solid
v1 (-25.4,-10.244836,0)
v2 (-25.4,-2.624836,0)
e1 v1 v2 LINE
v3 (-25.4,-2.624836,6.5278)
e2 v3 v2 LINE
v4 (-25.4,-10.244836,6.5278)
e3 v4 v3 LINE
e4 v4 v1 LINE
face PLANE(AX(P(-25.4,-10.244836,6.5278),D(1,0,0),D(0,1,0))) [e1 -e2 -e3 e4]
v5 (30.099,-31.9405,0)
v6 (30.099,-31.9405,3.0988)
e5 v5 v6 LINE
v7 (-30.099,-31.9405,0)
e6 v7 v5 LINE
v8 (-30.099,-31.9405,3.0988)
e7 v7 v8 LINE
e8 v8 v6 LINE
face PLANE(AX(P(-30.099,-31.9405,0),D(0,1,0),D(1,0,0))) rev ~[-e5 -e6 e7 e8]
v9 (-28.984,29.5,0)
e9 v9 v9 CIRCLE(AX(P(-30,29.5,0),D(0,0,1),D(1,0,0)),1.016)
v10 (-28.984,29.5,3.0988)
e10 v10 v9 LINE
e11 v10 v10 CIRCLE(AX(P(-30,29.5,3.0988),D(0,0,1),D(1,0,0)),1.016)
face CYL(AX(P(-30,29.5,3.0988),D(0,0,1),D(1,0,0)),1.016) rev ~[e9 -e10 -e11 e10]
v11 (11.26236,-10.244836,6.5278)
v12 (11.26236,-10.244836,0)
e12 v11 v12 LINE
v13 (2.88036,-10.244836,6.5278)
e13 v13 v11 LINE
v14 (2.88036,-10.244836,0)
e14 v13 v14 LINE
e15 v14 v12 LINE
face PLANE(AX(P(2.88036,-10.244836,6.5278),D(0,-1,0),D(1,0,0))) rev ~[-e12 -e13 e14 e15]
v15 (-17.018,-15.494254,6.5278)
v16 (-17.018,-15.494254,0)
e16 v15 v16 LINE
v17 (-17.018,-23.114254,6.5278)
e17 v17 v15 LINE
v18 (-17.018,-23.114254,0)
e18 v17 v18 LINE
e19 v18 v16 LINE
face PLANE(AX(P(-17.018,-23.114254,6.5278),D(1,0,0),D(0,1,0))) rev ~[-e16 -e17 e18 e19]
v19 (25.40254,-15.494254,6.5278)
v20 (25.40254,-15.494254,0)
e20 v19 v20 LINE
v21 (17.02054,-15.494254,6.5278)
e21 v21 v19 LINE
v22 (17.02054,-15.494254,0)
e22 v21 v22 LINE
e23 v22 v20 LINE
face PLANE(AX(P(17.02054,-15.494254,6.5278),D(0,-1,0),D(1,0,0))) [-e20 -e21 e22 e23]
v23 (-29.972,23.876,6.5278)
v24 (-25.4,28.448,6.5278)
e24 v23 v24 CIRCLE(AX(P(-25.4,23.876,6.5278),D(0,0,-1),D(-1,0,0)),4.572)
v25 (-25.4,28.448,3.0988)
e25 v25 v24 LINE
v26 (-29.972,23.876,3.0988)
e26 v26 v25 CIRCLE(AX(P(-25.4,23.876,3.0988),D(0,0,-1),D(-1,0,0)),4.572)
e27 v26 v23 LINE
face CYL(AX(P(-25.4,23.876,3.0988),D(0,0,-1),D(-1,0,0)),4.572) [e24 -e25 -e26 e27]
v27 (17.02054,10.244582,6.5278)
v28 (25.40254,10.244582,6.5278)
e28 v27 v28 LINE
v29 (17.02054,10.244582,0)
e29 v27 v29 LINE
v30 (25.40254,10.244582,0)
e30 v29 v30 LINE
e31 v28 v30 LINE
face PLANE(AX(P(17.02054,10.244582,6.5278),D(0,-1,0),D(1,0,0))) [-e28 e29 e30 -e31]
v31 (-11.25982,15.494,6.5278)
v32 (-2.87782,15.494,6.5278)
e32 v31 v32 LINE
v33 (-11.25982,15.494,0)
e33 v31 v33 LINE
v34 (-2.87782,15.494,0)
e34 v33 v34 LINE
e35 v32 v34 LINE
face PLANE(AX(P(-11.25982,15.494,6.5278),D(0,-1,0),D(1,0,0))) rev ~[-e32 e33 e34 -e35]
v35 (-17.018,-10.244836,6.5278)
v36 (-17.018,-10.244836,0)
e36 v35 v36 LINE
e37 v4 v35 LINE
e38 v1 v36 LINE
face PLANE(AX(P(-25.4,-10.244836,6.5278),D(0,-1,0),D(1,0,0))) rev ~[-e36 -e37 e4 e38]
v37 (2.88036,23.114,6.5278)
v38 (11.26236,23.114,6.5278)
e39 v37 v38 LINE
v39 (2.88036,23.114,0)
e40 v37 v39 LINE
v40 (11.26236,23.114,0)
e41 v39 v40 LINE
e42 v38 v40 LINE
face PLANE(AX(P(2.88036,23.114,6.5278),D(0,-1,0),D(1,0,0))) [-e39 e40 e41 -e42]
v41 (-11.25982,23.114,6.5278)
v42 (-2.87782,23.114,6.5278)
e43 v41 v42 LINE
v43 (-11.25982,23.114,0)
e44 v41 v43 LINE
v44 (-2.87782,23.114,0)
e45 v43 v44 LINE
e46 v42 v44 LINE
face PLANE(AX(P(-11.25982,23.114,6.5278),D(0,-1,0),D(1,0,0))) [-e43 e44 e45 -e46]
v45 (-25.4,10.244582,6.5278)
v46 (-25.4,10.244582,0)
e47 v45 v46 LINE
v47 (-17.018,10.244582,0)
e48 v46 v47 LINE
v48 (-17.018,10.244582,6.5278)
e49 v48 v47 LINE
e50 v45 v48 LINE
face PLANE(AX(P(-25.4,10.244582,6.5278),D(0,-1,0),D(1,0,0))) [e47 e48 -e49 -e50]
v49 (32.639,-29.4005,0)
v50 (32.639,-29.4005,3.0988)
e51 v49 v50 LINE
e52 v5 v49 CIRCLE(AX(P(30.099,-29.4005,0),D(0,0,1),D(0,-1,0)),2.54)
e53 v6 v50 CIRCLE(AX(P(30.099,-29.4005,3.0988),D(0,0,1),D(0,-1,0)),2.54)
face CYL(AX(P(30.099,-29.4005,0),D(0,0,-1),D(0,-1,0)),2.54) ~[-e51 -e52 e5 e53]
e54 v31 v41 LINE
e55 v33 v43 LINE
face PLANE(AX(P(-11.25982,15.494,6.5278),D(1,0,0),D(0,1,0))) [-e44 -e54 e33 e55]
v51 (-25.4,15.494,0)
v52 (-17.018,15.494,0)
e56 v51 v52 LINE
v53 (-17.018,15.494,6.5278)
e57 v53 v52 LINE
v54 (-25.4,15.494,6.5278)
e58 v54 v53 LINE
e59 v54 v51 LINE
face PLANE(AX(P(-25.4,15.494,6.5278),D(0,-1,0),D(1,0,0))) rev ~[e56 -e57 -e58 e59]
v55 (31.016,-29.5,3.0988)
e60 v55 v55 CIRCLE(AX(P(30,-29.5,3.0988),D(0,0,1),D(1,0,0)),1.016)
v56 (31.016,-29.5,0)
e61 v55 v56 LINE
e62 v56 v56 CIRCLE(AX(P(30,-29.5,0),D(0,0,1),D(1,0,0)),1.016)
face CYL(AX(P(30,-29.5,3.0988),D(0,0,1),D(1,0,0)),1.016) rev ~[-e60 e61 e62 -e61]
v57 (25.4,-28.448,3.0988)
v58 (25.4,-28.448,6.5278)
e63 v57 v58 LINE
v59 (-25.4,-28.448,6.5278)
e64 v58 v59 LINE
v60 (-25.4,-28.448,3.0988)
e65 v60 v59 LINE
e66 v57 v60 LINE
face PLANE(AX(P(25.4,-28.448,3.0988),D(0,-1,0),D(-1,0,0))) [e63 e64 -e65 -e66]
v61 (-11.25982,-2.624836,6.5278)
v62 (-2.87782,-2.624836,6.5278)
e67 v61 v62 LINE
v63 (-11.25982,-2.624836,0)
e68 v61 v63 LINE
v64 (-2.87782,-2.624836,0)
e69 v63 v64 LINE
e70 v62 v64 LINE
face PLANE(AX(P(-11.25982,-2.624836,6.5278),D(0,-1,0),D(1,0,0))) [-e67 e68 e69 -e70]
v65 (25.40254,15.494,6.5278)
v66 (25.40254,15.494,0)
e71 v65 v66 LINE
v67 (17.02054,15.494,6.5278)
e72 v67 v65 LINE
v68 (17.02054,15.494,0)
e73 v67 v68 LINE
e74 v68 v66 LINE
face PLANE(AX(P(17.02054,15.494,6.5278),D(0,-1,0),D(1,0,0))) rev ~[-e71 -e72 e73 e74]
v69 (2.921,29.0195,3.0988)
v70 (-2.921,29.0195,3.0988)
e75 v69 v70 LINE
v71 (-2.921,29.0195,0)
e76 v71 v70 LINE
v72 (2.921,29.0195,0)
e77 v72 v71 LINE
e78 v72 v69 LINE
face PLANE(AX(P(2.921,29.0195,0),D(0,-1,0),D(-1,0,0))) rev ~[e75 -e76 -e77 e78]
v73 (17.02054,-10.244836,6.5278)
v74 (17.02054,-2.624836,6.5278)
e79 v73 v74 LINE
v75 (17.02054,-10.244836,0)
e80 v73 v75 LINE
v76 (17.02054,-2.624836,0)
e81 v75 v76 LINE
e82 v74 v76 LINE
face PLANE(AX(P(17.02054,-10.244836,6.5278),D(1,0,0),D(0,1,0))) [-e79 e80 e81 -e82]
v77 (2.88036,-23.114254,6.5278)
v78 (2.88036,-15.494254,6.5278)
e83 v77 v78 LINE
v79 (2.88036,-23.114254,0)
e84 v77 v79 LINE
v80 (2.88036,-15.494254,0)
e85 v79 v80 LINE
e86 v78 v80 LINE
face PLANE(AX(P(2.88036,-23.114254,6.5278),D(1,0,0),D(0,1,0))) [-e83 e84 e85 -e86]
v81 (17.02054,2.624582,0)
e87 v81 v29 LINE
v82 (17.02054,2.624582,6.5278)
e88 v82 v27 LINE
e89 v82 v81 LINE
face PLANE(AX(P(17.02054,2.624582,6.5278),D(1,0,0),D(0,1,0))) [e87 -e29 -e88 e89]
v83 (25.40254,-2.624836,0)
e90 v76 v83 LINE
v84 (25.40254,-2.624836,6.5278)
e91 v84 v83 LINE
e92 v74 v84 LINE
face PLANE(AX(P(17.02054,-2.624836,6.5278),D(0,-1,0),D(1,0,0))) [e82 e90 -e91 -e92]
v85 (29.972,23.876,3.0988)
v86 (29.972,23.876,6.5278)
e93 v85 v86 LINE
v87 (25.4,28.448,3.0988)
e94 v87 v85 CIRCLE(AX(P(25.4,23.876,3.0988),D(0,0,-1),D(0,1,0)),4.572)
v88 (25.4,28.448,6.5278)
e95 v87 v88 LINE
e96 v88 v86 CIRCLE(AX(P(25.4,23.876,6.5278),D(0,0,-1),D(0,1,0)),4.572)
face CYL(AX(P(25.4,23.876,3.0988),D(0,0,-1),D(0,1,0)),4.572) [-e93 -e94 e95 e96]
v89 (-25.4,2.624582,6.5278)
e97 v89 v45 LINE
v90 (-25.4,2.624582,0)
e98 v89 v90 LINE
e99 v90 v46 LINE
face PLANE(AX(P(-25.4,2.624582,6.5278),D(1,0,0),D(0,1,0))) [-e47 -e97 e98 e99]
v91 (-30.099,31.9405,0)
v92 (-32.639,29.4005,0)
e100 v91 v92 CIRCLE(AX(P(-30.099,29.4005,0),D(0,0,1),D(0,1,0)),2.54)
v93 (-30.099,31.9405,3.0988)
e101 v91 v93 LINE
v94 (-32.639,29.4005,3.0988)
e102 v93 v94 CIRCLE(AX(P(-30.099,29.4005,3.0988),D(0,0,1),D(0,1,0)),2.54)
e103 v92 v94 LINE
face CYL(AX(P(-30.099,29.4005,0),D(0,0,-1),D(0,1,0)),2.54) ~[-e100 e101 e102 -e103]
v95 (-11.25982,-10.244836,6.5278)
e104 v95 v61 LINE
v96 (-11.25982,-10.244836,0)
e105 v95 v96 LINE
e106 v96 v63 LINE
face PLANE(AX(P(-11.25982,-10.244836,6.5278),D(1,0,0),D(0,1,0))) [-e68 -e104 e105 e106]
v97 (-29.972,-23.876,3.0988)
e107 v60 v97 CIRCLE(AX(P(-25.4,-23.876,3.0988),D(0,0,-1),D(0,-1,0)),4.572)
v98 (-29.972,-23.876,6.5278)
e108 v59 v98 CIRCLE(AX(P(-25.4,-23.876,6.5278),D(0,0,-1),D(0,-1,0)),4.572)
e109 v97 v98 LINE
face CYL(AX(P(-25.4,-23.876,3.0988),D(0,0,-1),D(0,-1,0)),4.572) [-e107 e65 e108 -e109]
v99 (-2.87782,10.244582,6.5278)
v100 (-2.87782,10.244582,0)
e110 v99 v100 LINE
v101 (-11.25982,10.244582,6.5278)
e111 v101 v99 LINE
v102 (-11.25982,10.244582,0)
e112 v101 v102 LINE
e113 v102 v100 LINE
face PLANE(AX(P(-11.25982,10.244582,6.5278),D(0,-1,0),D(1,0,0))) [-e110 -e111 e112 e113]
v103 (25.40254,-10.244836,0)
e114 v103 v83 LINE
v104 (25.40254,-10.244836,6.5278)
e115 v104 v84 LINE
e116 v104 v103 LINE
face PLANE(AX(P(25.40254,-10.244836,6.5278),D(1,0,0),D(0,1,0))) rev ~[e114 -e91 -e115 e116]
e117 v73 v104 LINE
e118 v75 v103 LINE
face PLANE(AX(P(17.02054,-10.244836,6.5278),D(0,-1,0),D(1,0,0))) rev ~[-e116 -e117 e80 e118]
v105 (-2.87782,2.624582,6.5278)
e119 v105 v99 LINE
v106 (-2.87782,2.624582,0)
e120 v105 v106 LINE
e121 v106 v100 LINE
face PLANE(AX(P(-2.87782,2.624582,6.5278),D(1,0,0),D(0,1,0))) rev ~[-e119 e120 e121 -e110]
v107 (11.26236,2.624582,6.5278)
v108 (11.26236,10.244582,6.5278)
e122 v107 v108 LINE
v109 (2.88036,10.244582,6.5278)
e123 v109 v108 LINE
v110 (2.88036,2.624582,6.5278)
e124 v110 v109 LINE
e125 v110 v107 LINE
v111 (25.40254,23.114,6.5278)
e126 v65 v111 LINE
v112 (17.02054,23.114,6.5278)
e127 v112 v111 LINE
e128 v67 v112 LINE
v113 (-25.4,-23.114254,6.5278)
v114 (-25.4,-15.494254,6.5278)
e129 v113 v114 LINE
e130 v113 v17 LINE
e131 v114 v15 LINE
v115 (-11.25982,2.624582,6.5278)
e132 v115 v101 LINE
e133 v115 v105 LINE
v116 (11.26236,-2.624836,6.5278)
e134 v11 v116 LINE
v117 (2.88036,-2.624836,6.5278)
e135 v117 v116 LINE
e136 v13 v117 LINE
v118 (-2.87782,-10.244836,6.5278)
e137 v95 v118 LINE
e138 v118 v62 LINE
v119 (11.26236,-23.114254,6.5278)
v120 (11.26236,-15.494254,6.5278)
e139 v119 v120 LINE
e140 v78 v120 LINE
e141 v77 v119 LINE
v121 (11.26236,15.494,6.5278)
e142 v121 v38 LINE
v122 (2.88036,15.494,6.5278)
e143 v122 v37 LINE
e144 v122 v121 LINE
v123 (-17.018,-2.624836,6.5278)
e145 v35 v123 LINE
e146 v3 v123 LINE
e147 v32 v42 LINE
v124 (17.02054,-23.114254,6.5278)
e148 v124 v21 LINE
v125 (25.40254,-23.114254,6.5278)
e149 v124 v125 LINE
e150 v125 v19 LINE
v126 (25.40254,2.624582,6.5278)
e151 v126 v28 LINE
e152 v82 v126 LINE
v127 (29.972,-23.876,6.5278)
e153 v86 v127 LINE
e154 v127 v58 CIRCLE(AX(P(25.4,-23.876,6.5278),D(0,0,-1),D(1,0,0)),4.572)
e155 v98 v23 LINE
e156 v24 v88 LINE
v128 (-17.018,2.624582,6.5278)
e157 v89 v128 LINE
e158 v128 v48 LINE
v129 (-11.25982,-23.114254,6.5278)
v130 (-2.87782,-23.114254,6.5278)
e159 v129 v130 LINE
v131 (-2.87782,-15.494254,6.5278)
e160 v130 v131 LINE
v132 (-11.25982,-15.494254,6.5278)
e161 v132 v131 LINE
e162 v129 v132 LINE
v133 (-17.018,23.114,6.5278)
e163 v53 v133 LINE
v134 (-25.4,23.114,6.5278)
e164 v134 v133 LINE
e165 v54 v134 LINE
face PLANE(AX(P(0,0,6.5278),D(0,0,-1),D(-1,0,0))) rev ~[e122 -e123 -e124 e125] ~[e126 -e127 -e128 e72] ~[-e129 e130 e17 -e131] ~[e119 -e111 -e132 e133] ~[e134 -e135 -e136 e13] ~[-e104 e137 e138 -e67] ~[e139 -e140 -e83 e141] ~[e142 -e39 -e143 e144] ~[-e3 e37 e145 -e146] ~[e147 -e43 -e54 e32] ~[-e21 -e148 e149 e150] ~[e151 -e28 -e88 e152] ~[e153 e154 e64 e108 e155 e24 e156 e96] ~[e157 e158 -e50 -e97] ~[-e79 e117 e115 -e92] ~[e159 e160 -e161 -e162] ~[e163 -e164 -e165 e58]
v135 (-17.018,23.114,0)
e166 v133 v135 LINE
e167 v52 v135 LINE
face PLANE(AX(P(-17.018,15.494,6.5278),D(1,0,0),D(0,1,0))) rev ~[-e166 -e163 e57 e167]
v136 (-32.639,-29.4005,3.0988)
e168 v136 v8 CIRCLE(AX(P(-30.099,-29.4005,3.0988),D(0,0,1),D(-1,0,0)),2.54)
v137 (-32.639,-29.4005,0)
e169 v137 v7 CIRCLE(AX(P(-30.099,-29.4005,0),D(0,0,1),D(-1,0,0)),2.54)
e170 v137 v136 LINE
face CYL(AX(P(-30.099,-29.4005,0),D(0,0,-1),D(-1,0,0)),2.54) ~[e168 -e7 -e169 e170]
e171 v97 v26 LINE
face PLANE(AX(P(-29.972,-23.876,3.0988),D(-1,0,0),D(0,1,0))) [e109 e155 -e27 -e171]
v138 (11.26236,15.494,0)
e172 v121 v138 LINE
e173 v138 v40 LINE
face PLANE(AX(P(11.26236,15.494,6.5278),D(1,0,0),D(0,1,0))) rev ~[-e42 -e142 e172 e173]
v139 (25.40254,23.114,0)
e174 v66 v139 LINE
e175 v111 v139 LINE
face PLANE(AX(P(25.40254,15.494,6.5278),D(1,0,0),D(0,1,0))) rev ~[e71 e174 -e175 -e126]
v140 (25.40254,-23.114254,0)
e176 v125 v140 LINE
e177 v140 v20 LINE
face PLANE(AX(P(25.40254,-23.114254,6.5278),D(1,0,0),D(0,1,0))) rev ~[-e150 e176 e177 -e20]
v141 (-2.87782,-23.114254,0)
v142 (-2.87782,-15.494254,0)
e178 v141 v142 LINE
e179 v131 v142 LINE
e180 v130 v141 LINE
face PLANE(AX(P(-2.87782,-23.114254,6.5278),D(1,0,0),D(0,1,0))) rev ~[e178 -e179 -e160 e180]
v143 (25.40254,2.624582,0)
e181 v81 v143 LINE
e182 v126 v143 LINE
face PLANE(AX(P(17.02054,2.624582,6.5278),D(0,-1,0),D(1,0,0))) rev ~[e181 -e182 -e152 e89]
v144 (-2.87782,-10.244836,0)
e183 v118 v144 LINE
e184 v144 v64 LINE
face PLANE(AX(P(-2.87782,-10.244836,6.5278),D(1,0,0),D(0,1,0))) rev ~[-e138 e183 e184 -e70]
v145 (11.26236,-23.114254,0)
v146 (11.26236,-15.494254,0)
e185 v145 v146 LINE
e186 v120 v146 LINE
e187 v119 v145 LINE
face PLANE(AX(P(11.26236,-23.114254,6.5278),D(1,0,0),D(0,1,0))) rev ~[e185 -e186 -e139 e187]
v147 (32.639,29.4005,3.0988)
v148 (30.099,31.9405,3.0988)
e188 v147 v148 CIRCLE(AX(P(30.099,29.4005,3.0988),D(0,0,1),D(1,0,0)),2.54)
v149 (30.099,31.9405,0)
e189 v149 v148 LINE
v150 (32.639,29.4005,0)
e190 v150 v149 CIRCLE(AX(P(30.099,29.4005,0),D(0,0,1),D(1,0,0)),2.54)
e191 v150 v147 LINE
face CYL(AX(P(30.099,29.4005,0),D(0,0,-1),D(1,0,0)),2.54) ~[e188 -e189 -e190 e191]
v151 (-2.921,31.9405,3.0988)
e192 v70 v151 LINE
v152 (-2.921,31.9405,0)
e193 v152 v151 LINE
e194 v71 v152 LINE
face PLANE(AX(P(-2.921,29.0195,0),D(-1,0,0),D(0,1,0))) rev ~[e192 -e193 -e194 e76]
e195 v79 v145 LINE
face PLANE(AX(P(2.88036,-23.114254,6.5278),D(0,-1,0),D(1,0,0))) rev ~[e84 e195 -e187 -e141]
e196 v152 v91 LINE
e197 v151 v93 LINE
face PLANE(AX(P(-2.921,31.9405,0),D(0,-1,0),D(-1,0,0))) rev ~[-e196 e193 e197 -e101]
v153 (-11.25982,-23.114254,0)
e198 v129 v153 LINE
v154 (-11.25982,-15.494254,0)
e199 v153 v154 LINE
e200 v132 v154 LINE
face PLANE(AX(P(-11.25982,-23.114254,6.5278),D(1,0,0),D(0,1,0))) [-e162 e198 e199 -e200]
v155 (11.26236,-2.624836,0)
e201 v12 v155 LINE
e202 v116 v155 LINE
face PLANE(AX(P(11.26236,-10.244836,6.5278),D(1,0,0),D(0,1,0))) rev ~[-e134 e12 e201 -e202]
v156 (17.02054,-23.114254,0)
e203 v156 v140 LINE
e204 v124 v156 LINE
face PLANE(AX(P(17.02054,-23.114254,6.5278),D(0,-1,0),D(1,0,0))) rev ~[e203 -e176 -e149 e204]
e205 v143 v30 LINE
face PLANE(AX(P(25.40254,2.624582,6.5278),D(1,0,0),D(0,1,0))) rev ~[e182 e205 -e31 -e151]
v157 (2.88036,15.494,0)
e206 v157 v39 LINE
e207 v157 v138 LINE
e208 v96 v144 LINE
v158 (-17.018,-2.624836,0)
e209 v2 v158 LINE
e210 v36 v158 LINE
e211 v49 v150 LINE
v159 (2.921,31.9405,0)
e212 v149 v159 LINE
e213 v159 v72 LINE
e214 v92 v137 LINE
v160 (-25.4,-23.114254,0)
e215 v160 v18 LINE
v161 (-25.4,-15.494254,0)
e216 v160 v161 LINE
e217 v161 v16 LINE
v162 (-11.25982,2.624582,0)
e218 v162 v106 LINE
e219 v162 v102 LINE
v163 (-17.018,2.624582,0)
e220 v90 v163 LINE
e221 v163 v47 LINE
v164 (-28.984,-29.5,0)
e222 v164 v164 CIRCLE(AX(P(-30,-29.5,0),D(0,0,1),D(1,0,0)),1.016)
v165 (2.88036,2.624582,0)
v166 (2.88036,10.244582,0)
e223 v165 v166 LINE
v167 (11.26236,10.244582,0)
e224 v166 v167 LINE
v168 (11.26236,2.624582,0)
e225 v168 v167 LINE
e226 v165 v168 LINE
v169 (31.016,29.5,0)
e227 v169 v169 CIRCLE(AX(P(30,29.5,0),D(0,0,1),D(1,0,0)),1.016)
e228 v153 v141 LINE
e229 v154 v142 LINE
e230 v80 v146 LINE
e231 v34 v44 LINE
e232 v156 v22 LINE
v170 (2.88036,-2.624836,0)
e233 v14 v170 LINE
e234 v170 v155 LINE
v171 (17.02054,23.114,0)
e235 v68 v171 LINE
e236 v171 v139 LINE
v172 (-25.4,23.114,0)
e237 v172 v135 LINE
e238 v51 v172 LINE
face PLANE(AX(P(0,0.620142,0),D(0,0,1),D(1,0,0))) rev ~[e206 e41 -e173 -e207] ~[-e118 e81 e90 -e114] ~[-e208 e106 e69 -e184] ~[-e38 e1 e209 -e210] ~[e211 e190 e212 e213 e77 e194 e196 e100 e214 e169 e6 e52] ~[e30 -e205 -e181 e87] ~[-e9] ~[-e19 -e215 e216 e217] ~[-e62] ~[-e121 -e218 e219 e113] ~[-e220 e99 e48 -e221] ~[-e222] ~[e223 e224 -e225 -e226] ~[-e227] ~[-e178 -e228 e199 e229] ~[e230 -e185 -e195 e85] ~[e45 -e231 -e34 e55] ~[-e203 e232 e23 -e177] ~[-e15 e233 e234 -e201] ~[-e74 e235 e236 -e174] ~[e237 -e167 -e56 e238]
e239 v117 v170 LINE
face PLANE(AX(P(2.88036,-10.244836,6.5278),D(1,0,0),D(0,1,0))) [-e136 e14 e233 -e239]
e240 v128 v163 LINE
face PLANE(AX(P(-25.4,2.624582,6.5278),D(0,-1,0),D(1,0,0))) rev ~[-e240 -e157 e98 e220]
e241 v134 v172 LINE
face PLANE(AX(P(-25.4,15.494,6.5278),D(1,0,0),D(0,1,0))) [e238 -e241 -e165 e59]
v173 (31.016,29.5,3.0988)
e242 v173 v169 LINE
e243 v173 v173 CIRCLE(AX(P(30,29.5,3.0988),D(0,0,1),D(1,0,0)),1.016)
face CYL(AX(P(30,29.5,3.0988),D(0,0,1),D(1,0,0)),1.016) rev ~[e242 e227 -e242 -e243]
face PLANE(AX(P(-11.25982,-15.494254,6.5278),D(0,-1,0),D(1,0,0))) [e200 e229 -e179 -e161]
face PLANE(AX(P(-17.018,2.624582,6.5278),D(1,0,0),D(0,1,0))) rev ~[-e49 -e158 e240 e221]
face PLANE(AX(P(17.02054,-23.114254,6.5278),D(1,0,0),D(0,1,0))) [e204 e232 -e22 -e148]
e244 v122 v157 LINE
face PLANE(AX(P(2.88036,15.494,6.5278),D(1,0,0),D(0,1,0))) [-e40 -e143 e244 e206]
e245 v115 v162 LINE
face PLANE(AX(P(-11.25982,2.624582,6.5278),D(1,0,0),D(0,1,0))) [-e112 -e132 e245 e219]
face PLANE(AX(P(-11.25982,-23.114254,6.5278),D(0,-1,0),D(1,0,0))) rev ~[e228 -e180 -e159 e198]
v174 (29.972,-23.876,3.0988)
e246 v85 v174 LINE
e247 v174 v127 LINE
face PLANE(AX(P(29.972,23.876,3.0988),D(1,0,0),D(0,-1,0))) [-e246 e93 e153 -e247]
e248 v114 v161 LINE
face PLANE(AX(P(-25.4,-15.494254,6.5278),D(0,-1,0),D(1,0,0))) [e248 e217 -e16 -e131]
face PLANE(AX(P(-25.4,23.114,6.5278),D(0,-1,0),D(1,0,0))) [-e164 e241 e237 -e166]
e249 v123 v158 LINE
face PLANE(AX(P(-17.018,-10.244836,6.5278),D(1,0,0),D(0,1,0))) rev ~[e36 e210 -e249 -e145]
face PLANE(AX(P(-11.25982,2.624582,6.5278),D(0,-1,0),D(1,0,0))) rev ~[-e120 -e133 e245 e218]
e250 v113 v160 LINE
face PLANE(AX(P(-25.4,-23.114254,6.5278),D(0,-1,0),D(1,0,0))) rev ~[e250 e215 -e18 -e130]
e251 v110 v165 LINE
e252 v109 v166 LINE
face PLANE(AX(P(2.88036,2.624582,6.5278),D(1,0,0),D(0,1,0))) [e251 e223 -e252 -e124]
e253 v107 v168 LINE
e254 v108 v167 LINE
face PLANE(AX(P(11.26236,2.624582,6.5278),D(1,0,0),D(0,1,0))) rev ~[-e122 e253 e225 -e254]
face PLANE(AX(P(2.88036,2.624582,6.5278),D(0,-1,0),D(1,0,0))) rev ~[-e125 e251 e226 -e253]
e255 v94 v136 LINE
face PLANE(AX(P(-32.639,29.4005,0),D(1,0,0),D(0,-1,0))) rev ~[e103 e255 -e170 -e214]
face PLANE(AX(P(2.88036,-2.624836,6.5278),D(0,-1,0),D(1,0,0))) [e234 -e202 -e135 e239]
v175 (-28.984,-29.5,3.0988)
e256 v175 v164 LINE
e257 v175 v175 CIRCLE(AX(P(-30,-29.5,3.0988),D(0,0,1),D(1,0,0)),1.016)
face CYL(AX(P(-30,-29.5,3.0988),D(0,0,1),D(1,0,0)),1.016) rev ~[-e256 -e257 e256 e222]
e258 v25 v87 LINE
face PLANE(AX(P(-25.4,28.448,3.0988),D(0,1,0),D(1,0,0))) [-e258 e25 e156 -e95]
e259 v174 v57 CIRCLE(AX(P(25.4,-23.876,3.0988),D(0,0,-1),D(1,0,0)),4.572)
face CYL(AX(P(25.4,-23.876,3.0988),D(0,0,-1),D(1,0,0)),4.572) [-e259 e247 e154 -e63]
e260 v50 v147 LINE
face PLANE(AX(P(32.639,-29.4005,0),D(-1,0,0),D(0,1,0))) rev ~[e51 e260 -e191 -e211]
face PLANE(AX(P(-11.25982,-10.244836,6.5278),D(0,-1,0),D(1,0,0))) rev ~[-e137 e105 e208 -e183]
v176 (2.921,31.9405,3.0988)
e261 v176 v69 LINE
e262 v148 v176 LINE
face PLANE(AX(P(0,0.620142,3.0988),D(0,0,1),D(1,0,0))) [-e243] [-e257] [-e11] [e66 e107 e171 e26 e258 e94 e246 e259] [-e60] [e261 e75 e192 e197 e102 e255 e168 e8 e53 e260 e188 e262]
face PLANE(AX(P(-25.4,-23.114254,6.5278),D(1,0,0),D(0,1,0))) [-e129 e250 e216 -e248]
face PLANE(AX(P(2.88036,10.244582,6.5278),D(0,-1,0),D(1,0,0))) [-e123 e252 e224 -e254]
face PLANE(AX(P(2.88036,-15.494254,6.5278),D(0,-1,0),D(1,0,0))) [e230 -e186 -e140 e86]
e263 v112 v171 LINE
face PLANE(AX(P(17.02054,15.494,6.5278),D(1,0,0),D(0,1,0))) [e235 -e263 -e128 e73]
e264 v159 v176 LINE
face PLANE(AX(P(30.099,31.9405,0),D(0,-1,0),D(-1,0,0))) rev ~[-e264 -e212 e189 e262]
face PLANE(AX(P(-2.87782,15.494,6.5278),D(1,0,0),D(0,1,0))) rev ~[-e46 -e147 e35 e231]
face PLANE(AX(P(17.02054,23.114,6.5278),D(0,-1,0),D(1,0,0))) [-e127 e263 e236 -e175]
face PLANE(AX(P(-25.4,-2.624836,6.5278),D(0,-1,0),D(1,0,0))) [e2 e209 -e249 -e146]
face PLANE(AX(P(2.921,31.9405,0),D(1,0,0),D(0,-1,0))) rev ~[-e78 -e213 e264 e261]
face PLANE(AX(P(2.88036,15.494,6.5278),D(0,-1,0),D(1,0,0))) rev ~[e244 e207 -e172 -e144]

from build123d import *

# Parameters (mm, degrees)
BASE_DEPTH        = 3.0988
SKETCH4_R         = 1.016
MOUNT_HOLES_DEPTH = 4.0988
EXTRUDE2_DEPTH    = 3.429
SKETCH3_W         = 8.382
SKETCH3_H         = 7.62
KEY_DEPTH         = 7.5278
KEYS_COUNT        = 4
KEYS_PITCH        = 14.14018
KEYS_COUNT_DIR2   = 4
KEYS_PITCH_DIR2   = 12.869418


with BuildPart() as part:
    # Sketch1 → base (new body)
    with BuildSketch(Plane.XY):
        with BuildLine():
            Line((-2.921, 31.9405), (-30.099, 31.9405))
            ThreePointArc((-30.099, 31.9405), (-31.895051224, 31.196551224), (-32.639, 29.4005))
            Line((-32.639, 29.4005), (-32.639, -29.4005))
            ThreePointArc((-32.639, -29.4005), (-31.895051224, -31.196551224), (-30.099, -31.9405))
            Line((-30.099, -31.9405), (30.099, -31.9405))
            ThreePointArc((30.099, -31.9405), (31.895051224, -31.196551224), (32.639, -29.4005))
            Line((32.639, -29.4005), (32.639, 29.4005))
            ThreePointArc((32.639, 29.4005), (31.895051224, 31.196551224), (30.099, 31.9405))
            Line((30.099, 31.9405), (2.921, 31.9405))
            Line((2.921, 31.9405), (2.921, 29.0195))
            Line((2.921, 29.0195), (-2.921, 29.0195))
            Line((-2.921, 29.0195), (-2.921, 31.9405))
        make_face()
    extrude(amount=BASE_DEPTH)

    # Sketch4 → mount holes (cut, through all)
    with BuildSketch(Plane.XY.offset(3.0988)):
        with Locations((-30, 29.5)):
            Circle(SKETCH4_R)
        with Locations((30, 29.5)):
            Circle(SKETCH4_R)
        with Locations((30, -29.5)):
            Circle(SKETCH4_R)
        with Locations((-30, -29.5)):
            Circle(SKETCH4_R)
    extrude(amount=-MOUNT_HOLES_DEPTH, mode=Mode.SUBTRACT)

    # Sketch2 → Extrude2 (add)
    with BuildSketch(Plane.XY.offset(3.0988)):
        with BuildLine():
            Line((-25.4, 28.448), (25.4, 28.448))
            ThreePointArc((25.4, 28.448), (28.632892204, 27.108892204), (29.972, 23.876))
            Line((29.972, 23.876), (29.972, -23.876))
            ThreePointArc((29.972, -23.876), (28.632892204, -27.108892204), (25.4, -28.448))
            Line((25.4, -28.448), (-25.4, -28.448))
            ThreePointArc((-25.4, -28.448), (-28.632892204, -27.108892204), (-29.972, -23.876))
            Line((-29.972, -23.876), (-29.972, 23.876))
            ThreePointArc((-29.972, 23.876), (-28.632892204, 27.108892204), (-25.4, 28.448))
        make_face()
    extrude(amount=EXTRUDE2_DEPTH)

    # Sketch3 → key (cut, through all)
    with BuildSketch(Plane.XY.offset(6.5278)):
        with Locations((-21.209, 19.304)):
            Rectangle(SKETCH3_W, SKETCH3_H)
    key = extrude(amount=-KEY_DEPTH, mode=Mode.SUBTRACT)

    # keys: key 4 × 4
    with Locations(*[(i * KEYS_PITCH, -j * KEYS_PITCH_DIR2, 0) for i in range(KEYS_COUNT) for j in range(KEYS_COUNT_DIR2) if (i, j) != (0, 0)]):
        add(key, mode=Mode.SUBTRACT)


solid = part.part
